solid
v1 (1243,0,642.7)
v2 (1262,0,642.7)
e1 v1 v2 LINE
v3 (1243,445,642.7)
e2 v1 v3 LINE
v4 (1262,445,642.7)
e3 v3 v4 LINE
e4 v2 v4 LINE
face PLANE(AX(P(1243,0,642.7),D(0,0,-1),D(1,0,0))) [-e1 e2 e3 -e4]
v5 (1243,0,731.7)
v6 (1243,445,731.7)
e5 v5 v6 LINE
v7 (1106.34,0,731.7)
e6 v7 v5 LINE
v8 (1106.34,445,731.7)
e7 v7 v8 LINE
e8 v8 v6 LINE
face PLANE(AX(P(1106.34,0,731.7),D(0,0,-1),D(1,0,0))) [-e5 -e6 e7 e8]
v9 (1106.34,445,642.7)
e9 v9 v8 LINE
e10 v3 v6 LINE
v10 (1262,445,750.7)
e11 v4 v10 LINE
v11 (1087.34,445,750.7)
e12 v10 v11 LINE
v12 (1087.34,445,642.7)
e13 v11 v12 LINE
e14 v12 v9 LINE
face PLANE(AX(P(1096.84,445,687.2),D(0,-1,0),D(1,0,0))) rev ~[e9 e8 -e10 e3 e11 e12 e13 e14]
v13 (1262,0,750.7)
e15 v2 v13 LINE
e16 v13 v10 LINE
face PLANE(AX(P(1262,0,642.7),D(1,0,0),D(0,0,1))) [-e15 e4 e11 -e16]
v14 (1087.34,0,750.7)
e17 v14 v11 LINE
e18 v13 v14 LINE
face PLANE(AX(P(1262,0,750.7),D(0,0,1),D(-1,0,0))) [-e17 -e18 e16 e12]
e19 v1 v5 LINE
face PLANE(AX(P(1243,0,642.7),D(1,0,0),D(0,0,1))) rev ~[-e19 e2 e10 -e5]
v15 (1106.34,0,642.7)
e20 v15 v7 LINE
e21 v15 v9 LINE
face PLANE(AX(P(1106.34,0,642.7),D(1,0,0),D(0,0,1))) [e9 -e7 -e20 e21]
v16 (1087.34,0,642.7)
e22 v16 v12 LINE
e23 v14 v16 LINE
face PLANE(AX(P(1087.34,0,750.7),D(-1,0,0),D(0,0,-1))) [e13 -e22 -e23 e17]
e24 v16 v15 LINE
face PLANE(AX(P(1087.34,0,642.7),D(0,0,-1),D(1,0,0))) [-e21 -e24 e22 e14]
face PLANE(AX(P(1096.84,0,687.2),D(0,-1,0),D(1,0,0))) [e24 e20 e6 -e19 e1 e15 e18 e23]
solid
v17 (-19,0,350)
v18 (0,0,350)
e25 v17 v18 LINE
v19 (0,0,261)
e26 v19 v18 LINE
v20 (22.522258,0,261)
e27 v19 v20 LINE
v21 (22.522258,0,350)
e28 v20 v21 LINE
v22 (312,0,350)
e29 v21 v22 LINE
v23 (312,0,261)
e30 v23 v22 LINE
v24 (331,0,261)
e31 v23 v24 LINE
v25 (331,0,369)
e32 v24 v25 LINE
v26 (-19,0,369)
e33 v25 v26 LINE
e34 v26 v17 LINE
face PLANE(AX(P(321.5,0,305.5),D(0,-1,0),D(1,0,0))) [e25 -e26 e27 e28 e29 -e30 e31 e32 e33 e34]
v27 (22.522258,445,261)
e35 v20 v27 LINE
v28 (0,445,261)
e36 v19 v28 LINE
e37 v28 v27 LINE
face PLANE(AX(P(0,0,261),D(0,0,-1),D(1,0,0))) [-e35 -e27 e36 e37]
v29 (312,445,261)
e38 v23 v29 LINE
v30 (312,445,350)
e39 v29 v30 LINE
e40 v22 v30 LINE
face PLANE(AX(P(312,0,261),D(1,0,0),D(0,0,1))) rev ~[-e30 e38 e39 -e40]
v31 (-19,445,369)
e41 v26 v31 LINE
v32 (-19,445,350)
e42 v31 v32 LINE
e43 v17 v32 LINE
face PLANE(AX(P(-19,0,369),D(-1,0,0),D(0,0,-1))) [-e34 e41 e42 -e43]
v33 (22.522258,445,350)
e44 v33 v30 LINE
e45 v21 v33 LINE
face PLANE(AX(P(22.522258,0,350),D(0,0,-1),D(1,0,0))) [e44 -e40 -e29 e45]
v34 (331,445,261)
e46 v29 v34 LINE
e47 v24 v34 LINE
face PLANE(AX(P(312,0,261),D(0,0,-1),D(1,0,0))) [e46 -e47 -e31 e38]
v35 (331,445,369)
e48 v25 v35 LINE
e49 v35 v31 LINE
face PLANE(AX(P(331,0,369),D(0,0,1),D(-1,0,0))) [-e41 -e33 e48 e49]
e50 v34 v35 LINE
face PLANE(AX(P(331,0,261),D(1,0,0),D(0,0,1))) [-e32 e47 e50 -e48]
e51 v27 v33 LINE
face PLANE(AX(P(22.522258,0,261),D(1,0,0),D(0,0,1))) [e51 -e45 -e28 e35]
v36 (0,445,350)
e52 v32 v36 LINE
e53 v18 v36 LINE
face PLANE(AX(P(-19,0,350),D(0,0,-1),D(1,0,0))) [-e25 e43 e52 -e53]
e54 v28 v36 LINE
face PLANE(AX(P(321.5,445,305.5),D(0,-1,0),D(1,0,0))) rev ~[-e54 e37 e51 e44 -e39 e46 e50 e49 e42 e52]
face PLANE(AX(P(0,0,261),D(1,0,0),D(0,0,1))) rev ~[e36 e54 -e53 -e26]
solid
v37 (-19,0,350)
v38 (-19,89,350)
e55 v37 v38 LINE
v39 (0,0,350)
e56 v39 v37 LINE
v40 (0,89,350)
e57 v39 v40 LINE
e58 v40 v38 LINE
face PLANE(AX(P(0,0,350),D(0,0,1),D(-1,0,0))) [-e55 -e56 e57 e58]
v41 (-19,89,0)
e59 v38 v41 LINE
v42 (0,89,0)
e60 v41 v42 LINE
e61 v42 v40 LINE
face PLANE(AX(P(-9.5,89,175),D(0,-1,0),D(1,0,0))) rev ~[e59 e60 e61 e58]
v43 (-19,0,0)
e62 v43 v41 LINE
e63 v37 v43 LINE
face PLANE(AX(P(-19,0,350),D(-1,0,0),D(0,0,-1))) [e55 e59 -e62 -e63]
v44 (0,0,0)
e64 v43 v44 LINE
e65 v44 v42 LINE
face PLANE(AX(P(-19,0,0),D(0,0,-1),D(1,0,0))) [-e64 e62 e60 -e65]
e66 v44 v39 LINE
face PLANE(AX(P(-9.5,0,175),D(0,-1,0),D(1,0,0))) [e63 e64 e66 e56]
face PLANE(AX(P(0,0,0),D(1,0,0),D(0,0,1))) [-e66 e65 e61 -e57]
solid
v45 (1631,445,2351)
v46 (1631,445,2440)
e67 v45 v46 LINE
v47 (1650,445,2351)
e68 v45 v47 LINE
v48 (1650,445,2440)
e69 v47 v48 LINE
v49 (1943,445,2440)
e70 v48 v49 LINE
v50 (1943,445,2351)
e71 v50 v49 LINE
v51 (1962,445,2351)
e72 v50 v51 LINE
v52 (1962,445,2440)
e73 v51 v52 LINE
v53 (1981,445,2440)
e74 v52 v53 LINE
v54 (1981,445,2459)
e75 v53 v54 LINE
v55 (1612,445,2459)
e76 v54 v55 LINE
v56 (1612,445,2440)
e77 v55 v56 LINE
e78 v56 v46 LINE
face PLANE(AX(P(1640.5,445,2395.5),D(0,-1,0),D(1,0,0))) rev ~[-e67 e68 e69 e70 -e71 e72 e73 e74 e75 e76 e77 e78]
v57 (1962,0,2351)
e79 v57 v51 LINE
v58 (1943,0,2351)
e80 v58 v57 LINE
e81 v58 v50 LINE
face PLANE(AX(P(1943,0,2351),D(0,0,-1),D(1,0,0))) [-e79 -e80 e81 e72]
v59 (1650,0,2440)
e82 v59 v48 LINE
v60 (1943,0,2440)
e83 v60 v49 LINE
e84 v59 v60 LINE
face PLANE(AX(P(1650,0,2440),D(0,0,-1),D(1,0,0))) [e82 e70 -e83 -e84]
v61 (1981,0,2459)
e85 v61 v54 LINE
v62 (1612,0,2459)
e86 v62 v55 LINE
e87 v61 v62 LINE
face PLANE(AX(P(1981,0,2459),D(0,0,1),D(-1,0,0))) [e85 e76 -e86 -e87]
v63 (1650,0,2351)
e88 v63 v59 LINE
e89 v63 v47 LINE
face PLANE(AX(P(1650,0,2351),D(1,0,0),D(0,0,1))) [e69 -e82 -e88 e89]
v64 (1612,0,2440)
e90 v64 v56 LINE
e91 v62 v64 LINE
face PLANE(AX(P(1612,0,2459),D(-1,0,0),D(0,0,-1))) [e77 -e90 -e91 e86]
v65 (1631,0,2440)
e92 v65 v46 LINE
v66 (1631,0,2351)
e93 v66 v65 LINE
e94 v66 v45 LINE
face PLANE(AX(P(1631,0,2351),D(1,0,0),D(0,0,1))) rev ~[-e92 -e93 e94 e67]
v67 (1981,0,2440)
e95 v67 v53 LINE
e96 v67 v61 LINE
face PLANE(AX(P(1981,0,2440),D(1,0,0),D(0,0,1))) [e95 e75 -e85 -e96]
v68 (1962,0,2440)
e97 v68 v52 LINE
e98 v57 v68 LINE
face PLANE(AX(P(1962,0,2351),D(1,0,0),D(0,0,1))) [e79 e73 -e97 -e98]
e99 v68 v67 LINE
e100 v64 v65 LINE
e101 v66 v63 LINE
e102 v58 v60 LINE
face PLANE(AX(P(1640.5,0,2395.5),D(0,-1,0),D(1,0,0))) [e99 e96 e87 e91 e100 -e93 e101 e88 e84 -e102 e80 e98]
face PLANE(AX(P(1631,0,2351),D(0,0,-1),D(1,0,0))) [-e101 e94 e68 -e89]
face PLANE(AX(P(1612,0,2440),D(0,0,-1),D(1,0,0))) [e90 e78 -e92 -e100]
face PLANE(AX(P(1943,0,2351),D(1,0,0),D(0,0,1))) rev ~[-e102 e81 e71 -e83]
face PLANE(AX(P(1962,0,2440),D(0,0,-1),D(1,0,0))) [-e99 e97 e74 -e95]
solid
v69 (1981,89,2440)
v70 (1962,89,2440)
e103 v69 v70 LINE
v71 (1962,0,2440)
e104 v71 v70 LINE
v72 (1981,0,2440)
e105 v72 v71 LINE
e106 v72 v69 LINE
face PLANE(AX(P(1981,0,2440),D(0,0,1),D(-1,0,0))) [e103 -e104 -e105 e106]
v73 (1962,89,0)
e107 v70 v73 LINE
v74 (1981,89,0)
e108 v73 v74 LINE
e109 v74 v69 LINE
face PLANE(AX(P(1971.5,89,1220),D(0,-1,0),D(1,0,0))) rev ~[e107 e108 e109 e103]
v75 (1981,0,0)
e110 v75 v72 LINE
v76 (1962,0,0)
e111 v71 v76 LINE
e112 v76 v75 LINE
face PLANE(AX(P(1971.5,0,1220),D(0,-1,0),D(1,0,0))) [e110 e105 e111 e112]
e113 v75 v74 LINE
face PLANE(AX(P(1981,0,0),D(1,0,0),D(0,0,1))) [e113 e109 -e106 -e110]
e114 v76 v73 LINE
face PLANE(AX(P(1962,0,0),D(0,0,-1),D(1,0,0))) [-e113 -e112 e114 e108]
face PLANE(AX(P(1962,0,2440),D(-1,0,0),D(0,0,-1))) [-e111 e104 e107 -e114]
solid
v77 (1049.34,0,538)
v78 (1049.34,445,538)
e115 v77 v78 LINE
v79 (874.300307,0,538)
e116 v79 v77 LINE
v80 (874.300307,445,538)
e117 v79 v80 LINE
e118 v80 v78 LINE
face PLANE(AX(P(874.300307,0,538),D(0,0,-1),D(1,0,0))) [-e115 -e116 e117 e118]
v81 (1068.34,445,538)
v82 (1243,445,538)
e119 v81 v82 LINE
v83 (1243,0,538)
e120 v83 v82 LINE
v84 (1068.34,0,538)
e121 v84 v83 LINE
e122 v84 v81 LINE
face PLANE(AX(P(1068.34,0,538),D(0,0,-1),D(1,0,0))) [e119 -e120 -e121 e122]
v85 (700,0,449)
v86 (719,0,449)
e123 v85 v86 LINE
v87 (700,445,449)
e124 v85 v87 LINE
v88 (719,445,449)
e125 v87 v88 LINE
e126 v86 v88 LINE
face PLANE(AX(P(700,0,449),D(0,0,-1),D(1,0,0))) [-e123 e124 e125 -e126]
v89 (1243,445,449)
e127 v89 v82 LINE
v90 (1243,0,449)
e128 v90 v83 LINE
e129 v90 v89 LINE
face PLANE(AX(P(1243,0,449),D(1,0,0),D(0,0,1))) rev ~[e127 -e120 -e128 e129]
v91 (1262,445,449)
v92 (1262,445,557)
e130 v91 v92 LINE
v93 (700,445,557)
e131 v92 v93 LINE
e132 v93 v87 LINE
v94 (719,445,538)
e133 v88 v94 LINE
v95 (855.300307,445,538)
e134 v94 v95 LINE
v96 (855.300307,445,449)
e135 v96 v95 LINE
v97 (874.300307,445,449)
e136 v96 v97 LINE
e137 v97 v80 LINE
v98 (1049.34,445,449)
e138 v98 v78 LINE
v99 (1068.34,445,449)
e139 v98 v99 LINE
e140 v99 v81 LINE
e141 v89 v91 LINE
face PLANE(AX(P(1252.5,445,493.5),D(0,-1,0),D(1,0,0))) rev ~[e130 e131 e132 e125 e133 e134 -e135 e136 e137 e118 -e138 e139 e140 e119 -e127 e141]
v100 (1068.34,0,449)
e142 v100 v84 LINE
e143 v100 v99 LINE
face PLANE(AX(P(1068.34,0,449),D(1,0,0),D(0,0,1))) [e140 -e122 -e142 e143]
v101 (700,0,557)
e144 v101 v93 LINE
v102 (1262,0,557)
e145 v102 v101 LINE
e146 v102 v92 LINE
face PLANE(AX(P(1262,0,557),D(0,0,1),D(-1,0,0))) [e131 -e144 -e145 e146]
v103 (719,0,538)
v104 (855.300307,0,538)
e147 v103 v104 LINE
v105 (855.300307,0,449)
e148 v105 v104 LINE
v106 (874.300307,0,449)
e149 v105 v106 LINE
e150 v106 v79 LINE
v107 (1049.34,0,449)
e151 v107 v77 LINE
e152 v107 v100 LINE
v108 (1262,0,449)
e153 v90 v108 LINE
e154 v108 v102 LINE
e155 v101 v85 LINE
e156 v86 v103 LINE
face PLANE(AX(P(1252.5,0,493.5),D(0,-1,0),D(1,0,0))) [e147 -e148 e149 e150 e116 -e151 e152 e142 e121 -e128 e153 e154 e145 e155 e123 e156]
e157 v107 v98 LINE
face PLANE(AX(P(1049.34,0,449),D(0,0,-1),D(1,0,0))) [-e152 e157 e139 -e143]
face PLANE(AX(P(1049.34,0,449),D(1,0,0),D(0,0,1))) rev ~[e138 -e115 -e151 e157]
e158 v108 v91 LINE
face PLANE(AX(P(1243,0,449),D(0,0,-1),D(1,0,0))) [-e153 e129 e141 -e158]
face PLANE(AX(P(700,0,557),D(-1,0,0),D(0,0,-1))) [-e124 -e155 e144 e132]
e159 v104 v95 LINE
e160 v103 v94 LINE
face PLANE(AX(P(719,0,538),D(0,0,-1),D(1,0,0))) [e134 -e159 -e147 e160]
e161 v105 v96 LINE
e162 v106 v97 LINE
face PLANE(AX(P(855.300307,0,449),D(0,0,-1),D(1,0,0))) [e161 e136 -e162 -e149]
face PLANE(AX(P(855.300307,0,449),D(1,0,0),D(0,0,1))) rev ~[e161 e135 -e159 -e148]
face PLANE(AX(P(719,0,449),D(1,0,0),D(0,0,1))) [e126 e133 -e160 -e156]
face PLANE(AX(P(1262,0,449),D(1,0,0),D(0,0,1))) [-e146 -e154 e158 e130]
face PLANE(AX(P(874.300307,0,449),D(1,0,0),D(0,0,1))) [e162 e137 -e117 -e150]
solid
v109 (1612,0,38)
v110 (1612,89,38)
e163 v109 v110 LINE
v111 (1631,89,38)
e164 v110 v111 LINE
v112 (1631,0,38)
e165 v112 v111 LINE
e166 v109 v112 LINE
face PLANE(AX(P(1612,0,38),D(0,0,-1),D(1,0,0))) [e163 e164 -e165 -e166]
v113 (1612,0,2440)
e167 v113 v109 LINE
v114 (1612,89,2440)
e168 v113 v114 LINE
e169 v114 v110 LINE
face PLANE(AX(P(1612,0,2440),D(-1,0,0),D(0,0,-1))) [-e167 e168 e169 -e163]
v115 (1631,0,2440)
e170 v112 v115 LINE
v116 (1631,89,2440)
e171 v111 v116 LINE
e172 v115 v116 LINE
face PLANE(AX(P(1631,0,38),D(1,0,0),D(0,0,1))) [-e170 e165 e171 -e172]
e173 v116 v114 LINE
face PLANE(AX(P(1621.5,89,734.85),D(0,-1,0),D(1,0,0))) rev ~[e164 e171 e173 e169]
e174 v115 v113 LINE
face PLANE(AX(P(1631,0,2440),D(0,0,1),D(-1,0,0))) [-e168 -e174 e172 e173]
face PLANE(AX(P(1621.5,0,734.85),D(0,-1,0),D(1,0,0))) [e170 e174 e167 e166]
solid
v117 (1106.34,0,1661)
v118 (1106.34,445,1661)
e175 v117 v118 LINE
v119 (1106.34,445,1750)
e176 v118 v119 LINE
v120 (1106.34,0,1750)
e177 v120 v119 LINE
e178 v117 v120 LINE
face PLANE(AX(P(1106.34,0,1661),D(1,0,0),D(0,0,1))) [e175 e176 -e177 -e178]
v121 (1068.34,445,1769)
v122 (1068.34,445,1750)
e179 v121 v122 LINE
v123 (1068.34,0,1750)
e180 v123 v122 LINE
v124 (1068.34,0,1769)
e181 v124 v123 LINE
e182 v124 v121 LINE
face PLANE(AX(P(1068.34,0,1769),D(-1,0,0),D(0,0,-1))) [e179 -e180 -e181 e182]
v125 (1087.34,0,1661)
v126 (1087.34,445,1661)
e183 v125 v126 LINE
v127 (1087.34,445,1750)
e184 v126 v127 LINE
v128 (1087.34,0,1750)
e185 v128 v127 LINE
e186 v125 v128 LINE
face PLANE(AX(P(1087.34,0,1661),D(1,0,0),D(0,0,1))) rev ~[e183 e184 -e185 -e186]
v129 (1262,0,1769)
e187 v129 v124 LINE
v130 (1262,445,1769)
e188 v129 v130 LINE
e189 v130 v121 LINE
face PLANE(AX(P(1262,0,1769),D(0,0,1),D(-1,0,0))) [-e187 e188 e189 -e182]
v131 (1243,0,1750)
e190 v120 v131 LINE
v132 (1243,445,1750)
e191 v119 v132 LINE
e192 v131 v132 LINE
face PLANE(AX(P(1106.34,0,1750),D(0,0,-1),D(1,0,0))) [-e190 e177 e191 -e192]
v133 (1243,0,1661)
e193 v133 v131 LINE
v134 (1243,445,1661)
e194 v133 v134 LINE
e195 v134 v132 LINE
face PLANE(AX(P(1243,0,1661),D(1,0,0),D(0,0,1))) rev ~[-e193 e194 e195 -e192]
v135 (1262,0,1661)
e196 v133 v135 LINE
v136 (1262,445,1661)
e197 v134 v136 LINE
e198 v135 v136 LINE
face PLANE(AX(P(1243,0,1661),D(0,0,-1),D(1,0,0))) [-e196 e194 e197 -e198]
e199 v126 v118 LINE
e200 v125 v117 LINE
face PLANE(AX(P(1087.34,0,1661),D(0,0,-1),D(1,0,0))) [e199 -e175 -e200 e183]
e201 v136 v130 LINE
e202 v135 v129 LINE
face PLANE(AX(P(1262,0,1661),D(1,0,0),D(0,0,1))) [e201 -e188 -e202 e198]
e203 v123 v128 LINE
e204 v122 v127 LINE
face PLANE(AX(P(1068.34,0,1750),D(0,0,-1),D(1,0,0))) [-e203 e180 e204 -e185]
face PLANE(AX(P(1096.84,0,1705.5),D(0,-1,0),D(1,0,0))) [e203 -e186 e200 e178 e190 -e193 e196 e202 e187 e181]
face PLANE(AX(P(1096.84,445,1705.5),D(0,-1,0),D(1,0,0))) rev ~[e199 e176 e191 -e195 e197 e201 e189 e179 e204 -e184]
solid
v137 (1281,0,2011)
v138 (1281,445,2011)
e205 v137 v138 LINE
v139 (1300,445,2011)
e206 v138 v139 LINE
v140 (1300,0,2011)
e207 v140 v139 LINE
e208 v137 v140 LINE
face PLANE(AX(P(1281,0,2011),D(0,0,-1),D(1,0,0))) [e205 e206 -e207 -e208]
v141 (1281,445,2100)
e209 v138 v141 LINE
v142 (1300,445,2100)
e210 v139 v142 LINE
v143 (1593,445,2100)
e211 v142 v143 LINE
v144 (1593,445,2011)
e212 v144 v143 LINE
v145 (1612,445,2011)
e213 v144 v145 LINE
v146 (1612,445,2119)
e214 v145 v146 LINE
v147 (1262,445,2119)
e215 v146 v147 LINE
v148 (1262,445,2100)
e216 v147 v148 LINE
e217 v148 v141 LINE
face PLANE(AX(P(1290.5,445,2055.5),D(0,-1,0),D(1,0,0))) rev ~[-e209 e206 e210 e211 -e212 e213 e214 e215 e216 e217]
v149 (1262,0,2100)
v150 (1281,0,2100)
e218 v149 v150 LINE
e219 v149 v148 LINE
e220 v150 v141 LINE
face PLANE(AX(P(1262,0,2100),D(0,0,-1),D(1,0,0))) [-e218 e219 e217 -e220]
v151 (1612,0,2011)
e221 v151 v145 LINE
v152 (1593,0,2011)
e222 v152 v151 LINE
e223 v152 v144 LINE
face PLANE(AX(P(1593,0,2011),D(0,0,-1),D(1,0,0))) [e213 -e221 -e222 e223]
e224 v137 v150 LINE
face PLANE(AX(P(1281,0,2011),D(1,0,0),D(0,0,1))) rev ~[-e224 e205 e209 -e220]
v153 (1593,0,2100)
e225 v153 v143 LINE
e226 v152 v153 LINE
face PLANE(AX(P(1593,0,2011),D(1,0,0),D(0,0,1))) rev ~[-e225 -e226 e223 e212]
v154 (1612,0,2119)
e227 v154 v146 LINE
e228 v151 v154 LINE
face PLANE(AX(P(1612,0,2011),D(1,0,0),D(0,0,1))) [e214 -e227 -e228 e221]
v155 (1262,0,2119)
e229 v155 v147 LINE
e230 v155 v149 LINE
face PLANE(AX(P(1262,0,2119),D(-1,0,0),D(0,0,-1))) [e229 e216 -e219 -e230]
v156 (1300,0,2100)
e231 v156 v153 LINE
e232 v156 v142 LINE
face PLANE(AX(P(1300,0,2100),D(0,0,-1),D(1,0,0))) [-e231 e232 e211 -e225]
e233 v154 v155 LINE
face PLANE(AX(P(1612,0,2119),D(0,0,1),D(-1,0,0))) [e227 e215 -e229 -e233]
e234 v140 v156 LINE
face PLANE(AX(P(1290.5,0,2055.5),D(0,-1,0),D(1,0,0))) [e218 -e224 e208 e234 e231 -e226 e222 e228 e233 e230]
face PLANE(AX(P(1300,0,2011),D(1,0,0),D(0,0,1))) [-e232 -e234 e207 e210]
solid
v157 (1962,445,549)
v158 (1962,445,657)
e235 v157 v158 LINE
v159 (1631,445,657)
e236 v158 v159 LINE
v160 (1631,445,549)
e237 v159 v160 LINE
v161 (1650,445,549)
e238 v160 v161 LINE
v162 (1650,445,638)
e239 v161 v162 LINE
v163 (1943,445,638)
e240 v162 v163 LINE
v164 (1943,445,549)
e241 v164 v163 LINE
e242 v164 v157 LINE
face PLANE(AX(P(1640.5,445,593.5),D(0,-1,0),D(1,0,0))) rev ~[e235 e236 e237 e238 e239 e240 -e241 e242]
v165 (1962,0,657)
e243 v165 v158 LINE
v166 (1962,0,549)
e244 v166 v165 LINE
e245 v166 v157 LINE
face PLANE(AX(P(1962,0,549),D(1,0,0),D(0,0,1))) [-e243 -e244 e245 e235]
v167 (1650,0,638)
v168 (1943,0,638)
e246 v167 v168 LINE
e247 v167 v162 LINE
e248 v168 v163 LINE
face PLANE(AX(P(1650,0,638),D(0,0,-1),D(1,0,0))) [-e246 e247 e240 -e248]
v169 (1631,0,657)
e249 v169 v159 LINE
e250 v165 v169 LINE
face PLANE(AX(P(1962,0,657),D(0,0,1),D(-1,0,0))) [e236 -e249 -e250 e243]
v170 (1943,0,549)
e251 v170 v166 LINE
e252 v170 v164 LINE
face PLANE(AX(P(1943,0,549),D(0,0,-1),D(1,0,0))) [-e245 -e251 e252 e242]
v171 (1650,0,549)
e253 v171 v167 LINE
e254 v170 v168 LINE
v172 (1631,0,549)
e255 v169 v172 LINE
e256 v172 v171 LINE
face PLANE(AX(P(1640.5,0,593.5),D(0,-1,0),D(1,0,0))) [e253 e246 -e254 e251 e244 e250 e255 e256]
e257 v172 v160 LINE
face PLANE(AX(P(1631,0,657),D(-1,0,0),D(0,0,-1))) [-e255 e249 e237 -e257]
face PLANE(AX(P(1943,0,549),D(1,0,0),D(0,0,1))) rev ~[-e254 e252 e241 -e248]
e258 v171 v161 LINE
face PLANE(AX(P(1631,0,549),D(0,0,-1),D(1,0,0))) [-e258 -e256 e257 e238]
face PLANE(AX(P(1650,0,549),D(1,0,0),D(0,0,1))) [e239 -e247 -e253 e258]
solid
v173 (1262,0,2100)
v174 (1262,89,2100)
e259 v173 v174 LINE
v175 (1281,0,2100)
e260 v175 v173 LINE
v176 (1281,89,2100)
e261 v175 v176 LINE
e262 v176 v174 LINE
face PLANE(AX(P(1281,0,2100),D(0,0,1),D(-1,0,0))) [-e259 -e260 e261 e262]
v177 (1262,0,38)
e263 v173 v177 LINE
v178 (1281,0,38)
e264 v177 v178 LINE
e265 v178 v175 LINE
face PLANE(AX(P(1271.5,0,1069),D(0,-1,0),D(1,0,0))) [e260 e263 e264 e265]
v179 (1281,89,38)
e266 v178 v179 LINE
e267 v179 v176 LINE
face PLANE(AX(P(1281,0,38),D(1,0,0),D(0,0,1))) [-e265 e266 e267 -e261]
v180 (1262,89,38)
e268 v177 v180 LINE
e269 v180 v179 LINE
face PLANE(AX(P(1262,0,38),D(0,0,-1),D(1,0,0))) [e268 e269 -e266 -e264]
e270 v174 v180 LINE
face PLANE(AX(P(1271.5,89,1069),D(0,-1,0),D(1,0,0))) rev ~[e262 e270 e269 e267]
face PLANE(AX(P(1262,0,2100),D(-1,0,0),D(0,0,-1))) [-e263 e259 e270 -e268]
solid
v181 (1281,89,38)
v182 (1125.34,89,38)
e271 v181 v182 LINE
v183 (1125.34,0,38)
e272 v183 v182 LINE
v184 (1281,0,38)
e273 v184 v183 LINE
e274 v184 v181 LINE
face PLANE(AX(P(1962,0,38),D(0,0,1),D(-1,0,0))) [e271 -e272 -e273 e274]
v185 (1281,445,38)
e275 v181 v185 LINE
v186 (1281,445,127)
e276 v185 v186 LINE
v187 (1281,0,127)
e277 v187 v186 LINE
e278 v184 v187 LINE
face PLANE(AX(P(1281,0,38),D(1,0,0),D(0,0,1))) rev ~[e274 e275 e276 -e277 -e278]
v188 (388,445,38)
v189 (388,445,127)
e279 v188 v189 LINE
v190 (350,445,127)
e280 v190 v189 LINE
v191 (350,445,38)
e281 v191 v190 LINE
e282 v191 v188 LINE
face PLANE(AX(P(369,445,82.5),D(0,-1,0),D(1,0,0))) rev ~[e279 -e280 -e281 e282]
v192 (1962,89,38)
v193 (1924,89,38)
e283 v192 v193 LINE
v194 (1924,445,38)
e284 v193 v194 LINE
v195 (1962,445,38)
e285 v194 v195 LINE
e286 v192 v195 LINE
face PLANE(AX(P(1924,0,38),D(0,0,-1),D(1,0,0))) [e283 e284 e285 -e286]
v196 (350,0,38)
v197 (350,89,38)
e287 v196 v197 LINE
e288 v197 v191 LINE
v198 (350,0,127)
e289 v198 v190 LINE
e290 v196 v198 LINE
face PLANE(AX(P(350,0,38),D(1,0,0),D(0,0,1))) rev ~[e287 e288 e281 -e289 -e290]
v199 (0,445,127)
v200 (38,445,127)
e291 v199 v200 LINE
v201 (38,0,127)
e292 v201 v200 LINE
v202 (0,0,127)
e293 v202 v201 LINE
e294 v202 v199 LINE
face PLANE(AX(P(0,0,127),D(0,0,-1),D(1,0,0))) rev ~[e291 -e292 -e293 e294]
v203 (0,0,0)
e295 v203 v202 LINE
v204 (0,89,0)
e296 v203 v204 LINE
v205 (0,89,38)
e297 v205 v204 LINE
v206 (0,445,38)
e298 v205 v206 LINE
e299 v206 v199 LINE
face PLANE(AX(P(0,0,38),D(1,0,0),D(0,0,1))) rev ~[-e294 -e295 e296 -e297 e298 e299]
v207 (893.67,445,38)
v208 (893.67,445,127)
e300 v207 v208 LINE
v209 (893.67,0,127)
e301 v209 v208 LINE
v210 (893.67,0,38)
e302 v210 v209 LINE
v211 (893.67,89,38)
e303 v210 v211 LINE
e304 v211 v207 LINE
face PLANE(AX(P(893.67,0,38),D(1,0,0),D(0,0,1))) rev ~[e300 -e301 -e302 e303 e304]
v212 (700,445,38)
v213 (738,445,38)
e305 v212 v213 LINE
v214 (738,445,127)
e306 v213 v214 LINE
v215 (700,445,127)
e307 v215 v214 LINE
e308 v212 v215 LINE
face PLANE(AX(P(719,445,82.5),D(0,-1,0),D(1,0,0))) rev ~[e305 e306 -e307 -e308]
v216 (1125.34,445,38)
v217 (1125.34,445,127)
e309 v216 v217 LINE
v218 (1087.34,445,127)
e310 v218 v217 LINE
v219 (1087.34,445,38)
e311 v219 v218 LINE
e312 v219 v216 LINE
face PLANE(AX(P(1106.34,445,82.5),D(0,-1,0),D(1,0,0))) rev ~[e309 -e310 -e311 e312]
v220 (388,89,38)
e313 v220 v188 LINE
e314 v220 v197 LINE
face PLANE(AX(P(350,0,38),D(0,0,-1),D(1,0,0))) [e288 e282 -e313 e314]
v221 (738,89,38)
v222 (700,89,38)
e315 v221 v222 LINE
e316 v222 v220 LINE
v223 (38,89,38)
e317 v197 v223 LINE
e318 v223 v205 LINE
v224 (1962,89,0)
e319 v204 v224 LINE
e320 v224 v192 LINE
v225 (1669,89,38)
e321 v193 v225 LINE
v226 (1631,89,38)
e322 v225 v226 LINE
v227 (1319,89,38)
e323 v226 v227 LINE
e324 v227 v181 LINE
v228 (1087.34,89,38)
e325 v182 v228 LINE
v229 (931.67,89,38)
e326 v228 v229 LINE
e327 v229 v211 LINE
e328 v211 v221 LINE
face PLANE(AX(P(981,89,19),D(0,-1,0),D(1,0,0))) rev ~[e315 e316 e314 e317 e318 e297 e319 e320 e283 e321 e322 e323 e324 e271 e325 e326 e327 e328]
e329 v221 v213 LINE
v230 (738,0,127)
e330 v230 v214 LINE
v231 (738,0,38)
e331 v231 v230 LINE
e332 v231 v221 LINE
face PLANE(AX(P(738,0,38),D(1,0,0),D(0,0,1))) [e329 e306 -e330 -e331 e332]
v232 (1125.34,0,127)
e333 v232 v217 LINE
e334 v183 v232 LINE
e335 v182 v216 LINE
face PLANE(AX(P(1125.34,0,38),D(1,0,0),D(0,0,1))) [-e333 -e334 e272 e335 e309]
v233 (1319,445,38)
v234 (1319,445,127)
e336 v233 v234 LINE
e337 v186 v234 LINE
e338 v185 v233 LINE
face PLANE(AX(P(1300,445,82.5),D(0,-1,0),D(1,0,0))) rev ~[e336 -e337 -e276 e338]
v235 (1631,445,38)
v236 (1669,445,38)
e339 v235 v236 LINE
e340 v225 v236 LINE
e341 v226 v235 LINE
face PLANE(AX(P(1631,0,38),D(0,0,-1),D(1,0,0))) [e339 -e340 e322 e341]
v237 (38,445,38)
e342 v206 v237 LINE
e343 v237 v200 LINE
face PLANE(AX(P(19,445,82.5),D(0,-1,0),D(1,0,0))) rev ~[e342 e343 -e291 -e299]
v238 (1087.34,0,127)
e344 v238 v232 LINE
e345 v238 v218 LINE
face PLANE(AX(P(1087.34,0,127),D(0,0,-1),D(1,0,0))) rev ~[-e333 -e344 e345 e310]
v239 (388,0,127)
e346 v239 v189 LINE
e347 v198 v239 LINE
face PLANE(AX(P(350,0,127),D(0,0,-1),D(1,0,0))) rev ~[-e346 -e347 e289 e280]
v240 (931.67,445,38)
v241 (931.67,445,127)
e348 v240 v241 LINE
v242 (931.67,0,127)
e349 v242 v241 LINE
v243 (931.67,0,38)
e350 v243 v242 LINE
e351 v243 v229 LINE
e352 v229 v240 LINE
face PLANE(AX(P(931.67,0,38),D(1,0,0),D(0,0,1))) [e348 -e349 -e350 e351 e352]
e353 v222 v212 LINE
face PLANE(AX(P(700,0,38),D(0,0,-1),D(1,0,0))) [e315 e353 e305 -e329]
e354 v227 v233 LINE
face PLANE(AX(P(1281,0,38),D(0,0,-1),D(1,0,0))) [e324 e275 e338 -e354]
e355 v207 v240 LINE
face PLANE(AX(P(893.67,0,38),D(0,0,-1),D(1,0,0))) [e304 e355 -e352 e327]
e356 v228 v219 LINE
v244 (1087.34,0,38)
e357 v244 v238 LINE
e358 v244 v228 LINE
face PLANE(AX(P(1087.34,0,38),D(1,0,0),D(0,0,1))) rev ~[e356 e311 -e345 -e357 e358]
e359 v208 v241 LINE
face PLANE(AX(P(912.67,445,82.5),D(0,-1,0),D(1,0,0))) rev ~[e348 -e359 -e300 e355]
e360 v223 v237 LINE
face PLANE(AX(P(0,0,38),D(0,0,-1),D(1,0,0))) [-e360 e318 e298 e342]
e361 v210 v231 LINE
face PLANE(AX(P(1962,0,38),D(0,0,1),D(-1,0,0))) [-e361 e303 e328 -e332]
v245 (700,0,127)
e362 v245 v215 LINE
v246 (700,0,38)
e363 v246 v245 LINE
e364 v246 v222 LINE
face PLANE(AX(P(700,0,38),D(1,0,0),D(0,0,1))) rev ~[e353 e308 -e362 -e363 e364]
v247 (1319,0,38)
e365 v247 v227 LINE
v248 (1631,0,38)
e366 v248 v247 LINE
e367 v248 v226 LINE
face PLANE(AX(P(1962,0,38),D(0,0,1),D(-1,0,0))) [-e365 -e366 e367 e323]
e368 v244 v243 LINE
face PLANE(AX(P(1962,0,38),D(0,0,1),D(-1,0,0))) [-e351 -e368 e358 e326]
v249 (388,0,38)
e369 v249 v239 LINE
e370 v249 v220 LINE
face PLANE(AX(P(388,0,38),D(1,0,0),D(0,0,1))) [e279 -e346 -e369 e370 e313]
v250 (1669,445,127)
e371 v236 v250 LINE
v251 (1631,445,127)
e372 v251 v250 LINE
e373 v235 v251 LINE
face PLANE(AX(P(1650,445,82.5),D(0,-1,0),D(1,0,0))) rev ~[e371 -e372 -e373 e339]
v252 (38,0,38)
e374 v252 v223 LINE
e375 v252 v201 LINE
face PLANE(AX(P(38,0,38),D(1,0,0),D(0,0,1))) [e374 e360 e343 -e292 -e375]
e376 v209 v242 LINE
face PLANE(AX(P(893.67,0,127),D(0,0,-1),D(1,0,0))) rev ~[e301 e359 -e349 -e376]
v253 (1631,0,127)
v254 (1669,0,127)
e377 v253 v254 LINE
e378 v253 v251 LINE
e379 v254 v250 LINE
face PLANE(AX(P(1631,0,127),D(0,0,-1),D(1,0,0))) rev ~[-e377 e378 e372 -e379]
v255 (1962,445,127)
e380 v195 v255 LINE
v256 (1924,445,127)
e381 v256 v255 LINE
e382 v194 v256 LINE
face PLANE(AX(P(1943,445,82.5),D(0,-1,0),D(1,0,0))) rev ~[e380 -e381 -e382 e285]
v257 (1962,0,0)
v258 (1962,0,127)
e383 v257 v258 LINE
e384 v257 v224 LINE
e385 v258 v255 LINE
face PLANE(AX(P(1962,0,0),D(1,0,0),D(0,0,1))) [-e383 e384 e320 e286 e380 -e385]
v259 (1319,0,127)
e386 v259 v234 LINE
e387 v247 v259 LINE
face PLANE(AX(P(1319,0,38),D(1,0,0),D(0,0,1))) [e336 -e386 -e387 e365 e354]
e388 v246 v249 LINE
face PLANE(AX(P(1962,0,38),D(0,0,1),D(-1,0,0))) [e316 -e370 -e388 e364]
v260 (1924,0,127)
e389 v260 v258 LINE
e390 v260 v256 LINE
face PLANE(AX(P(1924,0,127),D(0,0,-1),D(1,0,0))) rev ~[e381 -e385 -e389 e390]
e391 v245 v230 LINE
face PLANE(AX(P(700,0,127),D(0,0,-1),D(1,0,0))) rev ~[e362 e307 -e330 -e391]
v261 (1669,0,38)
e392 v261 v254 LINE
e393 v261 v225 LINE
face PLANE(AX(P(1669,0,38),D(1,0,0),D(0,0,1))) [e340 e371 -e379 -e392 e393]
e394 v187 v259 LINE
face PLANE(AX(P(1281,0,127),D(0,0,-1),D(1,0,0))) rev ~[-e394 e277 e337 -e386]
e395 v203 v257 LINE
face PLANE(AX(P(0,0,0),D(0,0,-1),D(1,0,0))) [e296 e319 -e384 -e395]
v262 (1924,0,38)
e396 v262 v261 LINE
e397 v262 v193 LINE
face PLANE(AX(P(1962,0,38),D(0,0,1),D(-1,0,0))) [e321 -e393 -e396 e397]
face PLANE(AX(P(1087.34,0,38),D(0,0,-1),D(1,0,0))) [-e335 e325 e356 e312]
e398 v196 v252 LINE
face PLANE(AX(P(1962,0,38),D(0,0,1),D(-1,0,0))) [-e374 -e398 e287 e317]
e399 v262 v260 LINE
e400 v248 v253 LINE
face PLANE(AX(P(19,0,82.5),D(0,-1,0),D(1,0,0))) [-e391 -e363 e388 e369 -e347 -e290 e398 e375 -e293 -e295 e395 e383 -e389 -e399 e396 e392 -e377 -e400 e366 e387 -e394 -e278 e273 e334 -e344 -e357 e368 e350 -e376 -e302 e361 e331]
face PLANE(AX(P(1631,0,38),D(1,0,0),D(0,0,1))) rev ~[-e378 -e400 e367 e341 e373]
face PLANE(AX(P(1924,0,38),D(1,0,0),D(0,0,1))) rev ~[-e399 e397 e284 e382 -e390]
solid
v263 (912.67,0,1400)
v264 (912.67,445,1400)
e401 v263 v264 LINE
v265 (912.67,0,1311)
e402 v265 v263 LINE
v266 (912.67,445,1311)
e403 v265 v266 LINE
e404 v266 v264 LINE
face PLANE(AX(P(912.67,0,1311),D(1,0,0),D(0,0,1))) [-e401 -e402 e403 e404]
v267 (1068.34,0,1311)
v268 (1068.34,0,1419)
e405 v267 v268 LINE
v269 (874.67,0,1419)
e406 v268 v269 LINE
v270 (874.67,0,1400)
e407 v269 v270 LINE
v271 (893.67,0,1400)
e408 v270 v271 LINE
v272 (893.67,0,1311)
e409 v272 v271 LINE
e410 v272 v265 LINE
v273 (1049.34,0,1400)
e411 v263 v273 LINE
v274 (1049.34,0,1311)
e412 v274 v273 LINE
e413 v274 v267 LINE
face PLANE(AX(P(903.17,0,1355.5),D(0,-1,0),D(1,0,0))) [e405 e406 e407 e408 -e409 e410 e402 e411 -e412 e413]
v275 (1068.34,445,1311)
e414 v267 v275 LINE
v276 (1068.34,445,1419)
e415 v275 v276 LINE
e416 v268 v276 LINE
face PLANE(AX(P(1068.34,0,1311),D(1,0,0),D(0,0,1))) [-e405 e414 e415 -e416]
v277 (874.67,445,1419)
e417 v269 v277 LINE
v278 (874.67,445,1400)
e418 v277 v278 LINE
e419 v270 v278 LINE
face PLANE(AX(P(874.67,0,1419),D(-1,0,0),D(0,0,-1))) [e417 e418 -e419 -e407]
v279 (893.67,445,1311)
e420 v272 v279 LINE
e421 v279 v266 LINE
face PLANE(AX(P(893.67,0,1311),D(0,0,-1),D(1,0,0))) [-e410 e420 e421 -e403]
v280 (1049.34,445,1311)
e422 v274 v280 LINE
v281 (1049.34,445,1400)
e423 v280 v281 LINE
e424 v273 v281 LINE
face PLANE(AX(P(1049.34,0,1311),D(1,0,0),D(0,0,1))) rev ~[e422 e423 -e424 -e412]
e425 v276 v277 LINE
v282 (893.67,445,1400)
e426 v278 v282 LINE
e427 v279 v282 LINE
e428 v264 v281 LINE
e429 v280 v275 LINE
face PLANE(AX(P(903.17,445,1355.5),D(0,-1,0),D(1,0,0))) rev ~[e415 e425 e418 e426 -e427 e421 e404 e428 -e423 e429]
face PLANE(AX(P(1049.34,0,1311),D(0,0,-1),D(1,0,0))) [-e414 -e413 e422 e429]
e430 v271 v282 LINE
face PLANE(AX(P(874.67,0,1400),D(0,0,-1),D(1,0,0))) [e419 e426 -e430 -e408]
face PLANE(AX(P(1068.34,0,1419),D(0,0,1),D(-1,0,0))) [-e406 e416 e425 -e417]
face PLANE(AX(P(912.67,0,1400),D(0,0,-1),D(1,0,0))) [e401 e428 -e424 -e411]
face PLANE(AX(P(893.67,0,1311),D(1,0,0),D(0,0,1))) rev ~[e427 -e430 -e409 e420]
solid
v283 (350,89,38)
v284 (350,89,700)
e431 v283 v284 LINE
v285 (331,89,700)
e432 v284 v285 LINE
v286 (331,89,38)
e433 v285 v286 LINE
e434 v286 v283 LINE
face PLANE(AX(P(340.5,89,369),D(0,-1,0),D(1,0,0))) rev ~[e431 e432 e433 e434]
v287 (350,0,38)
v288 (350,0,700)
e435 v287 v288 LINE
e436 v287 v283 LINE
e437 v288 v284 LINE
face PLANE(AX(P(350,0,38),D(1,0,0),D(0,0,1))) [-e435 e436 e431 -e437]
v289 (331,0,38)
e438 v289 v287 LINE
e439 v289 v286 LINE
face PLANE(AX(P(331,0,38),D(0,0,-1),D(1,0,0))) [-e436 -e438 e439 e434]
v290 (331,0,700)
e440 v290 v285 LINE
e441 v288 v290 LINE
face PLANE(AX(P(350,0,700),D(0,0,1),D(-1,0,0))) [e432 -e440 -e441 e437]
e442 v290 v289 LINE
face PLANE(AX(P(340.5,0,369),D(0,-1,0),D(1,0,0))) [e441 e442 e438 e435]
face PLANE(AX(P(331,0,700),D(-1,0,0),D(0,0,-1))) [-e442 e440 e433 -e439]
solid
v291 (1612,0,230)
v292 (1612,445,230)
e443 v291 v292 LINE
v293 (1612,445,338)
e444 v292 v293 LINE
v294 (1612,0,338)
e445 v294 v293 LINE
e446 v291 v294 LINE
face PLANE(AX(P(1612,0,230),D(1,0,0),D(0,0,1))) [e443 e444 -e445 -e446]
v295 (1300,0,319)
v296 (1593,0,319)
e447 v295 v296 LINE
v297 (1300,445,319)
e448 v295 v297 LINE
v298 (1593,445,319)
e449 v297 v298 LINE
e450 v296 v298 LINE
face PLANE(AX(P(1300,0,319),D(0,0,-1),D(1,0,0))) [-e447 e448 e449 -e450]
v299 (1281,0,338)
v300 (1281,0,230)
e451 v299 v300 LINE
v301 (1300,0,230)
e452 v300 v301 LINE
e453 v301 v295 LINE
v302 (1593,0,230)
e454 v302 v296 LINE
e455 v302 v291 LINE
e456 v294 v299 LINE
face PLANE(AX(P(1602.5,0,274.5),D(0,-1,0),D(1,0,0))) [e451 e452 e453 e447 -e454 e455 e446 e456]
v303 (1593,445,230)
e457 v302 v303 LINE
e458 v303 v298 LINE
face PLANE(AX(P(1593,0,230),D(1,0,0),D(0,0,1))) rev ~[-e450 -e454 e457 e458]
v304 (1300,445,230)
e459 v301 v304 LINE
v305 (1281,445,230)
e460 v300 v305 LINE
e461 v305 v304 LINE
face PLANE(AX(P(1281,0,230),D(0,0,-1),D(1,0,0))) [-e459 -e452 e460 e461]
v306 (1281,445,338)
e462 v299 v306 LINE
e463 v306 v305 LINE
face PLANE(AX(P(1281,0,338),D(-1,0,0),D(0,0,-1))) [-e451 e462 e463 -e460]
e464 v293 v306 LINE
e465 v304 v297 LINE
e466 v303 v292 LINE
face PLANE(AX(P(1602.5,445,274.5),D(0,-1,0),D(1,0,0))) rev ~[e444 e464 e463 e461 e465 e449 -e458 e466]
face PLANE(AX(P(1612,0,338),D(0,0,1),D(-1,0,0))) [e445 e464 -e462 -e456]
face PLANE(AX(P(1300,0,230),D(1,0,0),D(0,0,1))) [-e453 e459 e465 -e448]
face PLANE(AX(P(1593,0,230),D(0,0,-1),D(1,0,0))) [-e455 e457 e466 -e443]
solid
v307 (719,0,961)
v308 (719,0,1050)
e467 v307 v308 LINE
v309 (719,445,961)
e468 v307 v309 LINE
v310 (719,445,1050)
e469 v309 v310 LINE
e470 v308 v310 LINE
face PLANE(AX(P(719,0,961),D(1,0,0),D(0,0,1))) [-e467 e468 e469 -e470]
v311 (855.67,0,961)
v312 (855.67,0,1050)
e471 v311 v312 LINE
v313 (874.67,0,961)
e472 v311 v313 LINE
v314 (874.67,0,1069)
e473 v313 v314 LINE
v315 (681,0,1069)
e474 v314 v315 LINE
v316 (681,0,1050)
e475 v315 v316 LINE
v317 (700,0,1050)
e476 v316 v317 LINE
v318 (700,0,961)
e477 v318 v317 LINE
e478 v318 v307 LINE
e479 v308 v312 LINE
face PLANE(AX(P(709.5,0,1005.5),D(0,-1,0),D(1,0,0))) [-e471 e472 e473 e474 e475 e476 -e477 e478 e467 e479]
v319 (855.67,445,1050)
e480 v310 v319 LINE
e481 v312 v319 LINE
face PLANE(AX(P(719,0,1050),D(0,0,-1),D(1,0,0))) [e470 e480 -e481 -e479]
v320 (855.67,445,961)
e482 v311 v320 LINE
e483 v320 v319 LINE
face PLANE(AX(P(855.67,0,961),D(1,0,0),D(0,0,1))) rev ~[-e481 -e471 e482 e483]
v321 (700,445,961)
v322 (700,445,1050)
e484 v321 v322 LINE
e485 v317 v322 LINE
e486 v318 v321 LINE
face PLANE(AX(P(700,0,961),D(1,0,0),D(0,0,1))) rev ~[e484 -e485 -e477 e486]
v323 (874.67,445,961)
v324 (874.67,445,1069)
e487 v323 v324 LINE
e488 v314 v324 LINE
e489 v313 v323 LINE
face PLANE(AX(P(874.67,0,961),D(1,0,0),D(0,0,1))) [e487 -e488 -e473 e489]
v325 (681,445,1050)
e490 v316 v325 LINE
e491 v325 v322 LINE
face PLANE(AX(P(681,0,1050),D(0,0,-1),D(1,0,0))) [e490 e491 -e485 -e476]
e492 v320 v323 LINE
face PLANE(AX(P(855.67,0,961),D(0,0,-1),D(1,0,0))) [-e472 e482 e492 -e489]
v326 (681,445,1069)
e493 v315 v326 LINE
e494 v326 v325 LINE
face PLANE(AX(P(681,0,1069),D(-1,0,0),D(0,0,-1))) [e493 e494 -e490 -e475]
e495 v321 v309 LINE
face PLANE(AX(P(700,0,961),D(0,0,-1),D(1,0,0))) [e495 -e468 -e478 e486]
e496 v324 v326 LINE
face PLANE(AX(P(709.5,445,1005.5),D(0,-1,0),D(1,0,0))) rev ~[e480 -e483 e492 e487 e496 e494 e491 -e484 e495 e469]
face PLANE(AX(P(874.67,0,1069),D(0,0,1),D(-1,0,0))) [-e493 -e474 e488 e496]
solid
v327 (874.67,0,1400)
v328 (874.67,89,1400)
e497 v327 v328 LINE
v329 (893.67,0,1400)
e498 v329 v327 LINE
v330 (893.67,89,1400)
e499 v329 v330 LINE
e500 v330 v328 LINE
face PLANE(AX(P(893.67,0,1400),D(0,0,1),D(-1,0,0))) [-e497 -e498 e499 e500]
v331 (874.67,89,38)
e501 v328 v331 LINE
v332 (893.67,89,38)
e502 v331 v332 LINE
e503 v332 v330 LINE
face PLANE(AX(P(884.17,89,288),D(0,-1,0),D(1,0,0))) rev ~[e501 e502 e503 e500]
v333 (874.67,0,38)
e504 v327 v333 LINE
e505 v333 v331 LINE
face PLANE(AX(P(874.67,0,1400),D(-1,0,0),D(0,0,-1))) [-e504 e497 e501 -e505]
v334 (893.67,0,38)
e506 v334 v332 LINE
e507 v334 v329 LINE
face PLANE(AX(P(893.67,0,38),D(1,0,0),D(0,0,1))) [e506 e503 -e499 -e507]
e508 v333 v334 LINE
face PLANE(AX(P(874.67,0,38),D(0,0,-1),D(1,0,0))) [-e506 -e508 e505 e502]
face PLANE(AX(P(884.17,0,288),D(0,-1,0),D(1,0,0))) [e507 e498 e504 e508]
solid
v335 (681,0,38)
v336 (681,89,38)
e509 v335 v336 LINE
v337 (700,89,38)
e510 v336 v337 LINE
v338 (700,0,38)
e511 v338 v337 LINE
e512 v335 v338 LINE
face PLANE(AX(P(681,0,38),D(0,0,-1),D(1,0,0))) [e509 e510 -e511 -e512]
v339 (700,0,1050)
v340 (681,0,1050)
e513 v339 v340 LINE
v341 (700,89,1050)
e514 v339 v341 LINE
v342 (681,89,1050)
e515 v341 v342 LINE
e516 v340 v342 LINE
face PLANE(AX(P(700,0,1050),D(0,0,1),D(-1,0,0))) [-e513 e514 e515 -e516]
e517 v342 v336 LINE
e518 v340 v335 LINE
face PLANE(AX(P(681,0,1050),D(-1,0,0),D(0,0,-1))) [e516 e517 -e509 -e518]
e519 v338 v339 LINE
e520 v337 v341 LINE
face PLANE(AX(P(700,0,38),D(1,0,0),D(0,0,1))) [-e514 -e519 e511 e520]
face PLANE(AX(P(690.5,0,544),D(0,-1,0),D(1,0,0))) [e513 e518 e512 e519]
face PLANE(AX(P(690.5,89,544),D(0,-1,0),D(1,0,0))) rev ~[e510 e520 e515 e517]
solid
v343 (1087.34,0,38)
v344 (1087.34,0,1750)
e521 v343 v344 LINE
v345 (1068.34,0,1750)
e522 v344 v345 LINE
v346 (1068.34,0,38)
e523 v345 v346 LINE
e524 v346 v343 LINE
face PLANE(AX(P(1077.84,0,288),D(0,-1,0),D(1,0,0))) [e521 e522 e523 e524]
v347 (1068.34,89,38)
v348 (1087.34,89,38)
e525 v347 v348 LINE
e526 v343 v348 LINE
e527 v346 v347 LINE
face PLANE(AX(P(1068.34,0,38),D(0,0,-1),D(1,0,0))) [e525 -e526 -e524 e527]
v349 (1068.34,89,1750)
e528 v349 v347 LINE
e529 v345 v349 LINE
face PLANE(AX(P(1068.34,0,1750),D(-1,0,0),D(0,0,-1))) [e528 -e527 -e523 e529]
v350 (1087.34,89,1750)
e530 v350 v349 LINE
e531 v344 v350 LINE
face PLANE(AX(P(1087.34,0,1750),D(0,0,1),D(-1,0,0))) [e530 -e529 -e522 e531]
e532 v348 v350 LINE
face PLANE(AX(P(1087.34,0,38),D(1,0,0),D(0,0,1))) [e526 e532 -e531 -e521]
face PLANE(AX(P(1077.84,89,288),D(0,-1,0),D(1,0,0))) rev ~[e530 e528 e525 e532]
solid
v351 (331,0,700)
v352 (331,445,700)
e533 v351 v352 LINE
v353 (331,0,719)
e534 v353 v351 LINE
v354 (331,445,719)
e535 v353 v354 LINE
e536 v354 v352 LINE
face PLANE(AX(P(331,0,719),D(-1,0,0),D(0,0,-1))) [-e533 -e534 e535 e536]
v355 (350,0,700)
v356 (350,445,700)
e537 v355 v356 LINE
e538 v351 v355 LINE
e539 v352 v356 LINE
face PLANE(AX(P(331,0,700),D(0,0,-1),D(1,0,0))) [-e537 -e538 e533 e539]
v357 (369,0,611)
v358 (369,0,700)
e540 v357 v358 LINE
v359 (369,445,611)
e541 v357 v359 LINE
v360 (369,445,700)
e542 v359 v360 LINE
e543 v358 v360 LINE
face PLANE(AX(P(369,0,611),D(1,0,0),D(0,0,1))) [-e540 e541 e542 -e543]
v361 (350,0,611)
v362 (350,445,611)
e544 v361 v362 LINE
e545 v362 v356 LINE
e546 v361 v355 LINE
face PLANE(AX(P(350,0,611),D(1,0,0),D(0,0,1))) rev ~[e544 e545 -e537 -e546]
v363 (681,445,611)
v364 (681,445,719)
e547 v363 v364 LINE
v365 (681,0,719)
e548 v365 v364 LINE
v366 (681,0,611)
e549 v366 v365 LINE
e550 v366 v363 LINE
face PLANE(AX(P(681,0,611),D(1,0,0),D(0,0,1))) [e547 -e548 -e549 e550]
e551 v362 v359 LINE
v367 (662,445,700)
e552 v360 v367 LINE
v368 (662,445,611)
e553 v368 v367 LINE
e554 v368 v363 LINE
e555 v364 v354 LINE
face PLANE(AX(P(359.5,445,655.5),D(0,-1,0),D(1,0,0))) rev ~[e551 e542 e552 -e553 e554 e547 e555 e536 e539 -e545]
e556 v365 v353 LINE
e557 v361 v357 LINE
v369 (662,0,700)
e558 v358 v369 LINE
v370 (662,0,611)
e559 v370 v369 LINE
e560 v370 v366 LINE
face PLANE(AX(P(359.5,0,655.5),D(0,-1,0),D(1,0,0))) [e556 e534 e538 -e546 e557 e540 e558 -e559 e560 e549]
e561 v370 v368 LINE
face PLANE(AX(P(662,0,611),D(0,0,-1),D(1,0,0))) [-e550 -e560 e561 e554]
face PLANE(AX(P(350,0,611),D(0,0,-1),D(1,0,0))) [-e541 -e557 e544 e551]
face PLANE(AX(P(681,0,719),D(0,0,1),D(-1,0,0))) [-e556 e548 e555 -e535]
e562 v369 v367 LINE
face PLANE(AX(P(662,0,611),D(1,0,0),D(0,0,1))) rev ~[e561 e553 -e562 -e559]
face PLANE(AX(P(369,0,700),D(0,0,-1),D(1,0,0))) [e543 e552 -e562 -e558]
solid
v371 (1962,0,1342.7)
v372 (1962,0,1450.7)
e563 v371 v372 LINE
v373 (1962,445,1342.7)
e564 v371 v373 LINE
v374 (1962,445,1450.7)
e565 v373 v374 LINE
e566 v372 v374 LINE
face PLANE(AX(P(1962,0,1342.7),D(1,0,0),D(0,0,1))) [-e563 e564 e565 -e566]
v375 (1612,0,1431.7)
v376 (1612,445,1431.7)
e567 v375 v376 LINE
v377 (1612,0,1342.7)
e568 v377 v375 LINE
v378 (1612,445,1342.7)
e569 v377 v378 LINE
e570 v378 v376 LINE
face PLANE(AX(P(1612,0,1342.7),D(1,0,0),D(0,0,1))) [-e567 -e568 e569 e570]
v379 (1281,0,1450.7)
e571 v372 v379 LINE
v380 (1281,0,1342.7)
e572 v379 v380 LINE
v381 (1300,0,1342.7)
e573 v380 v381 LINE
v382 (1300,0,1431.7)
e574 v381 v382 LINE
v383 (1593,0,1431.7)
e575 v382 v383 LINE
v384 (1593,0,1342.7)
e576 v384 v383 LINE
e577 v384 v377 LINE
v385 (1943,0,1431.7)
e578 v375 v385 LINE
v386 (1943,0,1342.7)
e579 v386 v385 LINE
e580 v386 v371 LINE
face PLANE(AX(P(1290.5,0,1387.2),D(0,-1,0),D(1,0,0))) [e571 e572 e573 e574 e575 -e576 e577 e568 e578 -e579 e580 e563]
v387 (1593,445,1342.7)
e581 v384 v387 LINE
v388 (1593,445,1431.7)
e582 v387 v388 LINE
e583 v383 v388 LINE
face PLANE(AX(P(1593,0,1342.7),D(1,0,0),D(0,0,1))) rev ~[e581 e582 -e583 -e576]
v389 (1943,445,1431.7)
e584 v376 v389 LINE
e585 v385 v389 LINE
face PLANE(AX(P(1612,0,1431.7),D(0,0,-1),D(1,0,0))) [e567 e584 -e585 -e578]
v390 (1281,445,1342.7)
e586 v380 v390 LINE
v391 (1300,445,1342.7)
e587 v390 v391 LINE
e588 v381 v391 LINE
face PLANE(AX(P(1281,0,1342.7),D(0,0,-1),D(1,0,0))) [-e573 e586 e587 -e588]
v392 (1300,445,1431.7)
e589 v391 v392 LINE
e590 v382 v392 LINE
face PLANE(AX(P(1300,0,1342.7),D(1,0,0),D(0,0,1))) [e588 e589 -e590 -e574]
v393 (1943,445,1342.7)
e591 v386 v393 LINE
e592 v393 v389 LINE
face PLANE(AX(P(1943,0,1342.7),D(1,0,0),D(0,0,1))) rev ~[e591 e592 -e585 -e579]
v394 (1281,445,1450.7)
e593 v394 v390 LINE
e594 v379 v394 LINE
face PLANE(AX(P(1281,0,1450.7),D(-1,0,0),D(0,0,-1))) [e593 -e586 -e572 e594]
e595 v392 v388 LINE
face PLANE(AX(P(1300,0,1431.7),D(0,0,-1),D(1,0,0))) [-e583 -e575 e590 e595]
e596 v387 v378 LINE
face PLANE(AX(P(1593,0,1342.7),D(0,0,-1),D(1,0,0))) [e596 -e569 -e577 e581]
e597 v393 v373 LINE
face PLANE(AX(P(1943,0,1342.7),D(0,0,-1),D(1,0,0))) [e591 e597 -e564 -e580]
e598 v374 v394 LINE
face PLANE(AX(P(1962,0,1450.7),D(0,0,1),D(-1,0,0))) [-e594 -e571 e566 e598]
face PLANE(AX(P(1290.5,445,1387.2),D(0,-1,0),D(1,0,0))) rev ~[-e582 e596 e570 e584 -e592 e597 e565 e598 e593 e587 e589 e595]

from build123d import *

# Parameters (mm, degrees)
F1_DEPTH = 89
F0_W     = 38
F0_H     = 89
F2_DEPTH = 445
F0_W_2   = 19
F0_H_2   = 19
F0_W_3   = 22.522257641
F3_DEPTH = 89


with BuildPart() as f1:
    # F0 (on Front) → F1 (new body)
    with BuildSketch(Plane.XZ):
        Polygon((0, 38), (0, 0), (1962, 0), (1962, 38), (1924, 38), (1669, 38), (1631, 38), (1612, 38), (1319, 38), (1281, 38), (1262, 38), (1125.34, 38), (1087.34, 38), (1068.34, 38), (931.67, 38), (893.67, 38), (874.67, 38), (738, 38), (700, 38), (681, 38), (388, 38), (350, 38), (331, 38), (38, 38), align=None)
    extrude(amount=-F1_DEPTH)

    # F0 (on Front) → F2 (join)
    with BuildSketch(Plane.XZ):
        with Locations((19, 82.5)):
            Rectangle(F0_W, F0_H)
        with Locations((369, 82.5)):
            Rectangle(F0_W, F0_H)
        with Locations((719, 82.5)):
            Rectangle(F0_W, F0_H)
        with Locations((912.67, 82.5)):
            Rectangle(F0_W, F0_H)
        with Locations((1106.34, 82.5)):
            Rectangle(F0_W, F0_H)
        with Locations((1300, 82.5)):
            Rectangle(F0_W, F0_H)
        with Locations((1650, 82.5)):
            Rectangle(F0_W, F0_H)
        with Locations((1943, 82.5)):
            Rectangle(F0_W, F0_H)
    extrude(amount=-F2_DEPTH)


with BuildPart() as f2:
    # F0 (on Front) → F2, piece 2 (new body)
    with BuildSketch(Plane.XZ):
        with Locations((1602.5, 274.5)):
            Rectangle(F0_W_2, F0_H)
        with Locations((1290.5, 274.5)):
            Rectangle(F0_W_2, F0_H)
        Polygon((1593, 319), (1612, 319), (1612, 338), (1281, 338), (1281, 319), (1300, 319), align=None)
    extrude(amount=-F2_DEPTH)


with BuildPart() as f2b:
    # F0 (on Front) → F2, piece 3 (new body)
    with BuildSketch(Plane.XZ):
        with Locations((1252.5, 493.5)):
            Rectangle(F0_W_2, F0_H)
        with Locations((1058.84, 493.5)):
            Rectangle(F0_W_2, F0_H)
        with Locations((864.8003072739, 493.5)):
            Rectangle(F0_W_2, F0_H)
        with Locations((709.5, 493.5)):
            Rectangle(F0_W_2, F0_H)
        Polygon((1243, 538), (1262, 538), (1262, 557), (1087.34, 557), (1087.34, 538), align=None)
        with Locations((1077.84, 547.5)):
            Rectangle(F0_W_2, F0_H_2)
        Polygon((893.67, 557), (893.67, 538), (1049.34, 538), (1068.34, 538), (1068.34, 557), align=None)
        with Locations((884.17, 547.5)):
            Rectangle(F0_W_2, F0_H_2)
        Polygon((874.3003072739, 538), (874.67, 538), (874.67, 557), (700, 557), (700, 538), (719, 538), (855.3003072739, 538), align=None)
    extrude(amount=-F2_DEPTH)


with BuildPart() as f2c:
    # F0 (on Front) → F2, piece 4 (new body)
    with BuildSketch(Plane.XZ):
        with Locations((321.5, 305.5)):
            Rectangle(F0_W_2, F0_H)
        with Locations((11.2611288205, 305.5)):
            Rectangle(F0_W_3, F0_H)
        Polygon((-19, 369), (-19, 350), (0, 350), (22.522257641, 350), (312, 350), (331, 350), (331, 369), align=None)
    extrude(amount=-F2_DEPTH)


with BuildPart() as f2d:
    # F0 (on Front) → F2, piece 5 (new body)
    with BuildSketch(Plane.XZ):
        with Locations((359.5, 655.5)):
            Rectangle(F0_W_2, F0_H)
        with Locations((671.5, 655.5)):
            Rectangle(F0_W_2, F0_H)
        Polygon((331, 719), (331, 700), (350, 700), (369, 700), (662, 700), (681, 700), (681, 719), align=None)
    extrude(amount=-F2_DEPTH)


with BuildPart() as f2e:
    # F0 (on Front) → F2, piece 6 (new body)
    with BuildSketch(Plane.XZ):
        with Locations((1096.84, 687.2)):
            Rectangle(F0_W_2, F0_H)
        with Locations((1252.5, 687.2)):
            Rectangle(F0_W_2, F0_H)
        Polygon((1262, 731.7), (1262, 750.7), (1087.34, 750.7), (1087.34, 731.7), (1106.34, 731.7), (1243, 731.7), align=None)
    extrude(amount=-F2_DEPTH)


with BuildPart() as f2f:
    # F0 (on Front) → F2, piece 7 (new body)
    with BuildSketch(Plane.XZ):
        with Locations((1640.5, 593.5)):
            Rectangle(F0_W_2, F0_H)
        with Locations((1952.5, 593.5)):
            Rectangle(F0_W_2, F0_H)
        Polygon((1943, 638), (1962, 638), (1962, 657), (1631, 657), (1631, 638), (1650, 638), align=None)
    extrude(amount=-F2_DEPTH)


with BuildPart() as f2g:
    # F0 (on Front) → F2, piece 8 (new body)
    with BuildSketch(Plane.XZ):
        with Locations((709.5, 1005.5)):
            Rectangle(F0_W_2, F0_H)
        with Locations((865.17, 1005.5)):
            Rectangle(F0_W_2, F0_H)
        Polygon((681, 1069), (681, 1050), (700, 1050), (719, 1050), (855.67, 1050), (874.67, 1050), (874.67, 1069), align=None)
    extrude(amount=-F2_DEPTH)


with BuildPart() as f2h:
    # F0 (on Front) → F2, piece 9 (new body)
    with BuildSketch(Plane.XZ):
        with Locations((903.17, 1355.5)):
            Rectangle(F0_W_2, F0_H)
        with Locations((1058.84, 1355.5)):
            Rectangle(F0_W_2, F0_H)
        Polygon((874.67, 1419), (874.67, 1400), (893.67, 1400), (912.67, 1400), (1049.34, 1400), (1068.34, 1400), (1068.34, 1419), align=None)
    extrude(amount=-F2_DEPTH)


with BuildPart() as f2i:
    # F0 (on Front) → F2, piece 10 (new body)
    with BuildSketch(Plane.XZ):
        with Locations((1290.5, 1387.2)):
            Rectangle(F0_W_2, F0_H)
        with Locations((1602.5, 1387.2)):
            Rectangle(F0_W_2, F0_H)
        with Locations((1952.5, 1387.2)):
            Rectangle(F0_W_2, F0_H)
        Polygon((1612, 1431.7), (1612, 1450.7), (1281, 1450.7), (1281, 1431.7), (1300, 1431.7), (1593, 1431.7), align=None)
        with Locations((1621.5, 1441.2)):
            Rectangle(F0_W_2, F0_H_2)
        Polygon((1962, 1431.7), (1962, 1450.7), (1631, 1450.7), (1631, 1431.7), (1943, 1431.7), align=None)
    extrude(amount=-F2_DEPTH)


with BuildPart() as f2j:
    # F0 (on Front) → F2, piece 11 (new body)
    with BuildSketch(Plane.XZ):
        with Locations((1096.84, 1705.5)):
            Rectangle(F0_W_2, F0_H)
        with Locations((1252.5, 1705.5)):
            Rectangle(F0_W_2, F0_H)
        Polygon((1262, 1750), (1262, 1769), (1068.34, 1769), (1068.34, 1750), (1087.34, 1750), (1106.34, 1750), (1243, 1750), align=None)
    extrude(amount=-F2_DEPTH)


with BuildPart() as f2k:
    # F0 (on Front) → F2, piece 12 (new body)
    with BuildSketch(Plane.XZ):
        with Locations((1290.5, 2055.5)):
            Rectangle(F0_W_2, F0_H)
        with Locations((1602.5, 2055.5)):
            Rectangle(F0_W_2, F0_H)
        Polygon((1612, 2100), (1612, 2119), (1262, 2119), (1262, 2100), (1281, 2100), (1300, 2100), (1593, 2100), align=None)
    extrude(amount=-F2_DEPTH)


with BuildPart() as f2l:
    # F0 (on Front) → F2, piece 13 (new body)
    with BuildSketch(Plane.XZ):
        with Locations((1640.5, 2395.5)):
            Rectangle(F0_W_2, F0_H)
        with Locations((1952.5, 2395.5)):
            Rectangle(F0_W_2, F0_H)
        Polygon((1962, 2440), (1981, 2440), (1981, 2459), (1612, 2459), (1612, 2440), (1631, 2440), (1650, 2440), (1943, 2440), align=None)
    extrude(amount=-F2_DEPTH)


with BuildPart() as f3:
    # F0 (on Front) → F3 (new body)
    with BuildSketch(Plane.XZ):
        Polygon((1962, 38), (1962, 0), (1981, 0), (1981, 2440), (1962, 2440), (1962, 2351), (1962, 1450.7), (1962, 1431.7), (1962, 1342.7), (1962, 657), (1962, 638), (1962, 549), (1962, 127), align=None)
    extrude(amount=-F3_DEPTH)


with BuildPart() as f3b:
    # F0 (on Front) → F3, piece 2 (new body)
    with BuildSketch(Plane.XZ):
        Polygon((-19, 0), (0, 0), (0, 38), (0, 127), (0, 261), (0, 350), (-19, 350), align=None)
    extrude(amount=-F3_DEPTH)


with BuildPart() as f3c:
    # F0 (on Front) → F3, piece 3 (new body)
    with BuildSketch(Plane.XZ):
        Polygon((331, 261), (331, 38), (350, 38), (350, 127), (350, 611), (350, 700), (331, 700), (331, 369), (331, 350), align=None)
    extrude(amount=-F3_DEPTH)


with BuildPart() as f3d:
    # F0 (on Front) → F3, piece 4 (new body)
    with BuildSketch(Plane.XZ):
        Polygon((681, 611), (681, 38), (700, 38), (700, 127), (700, 449), (700, 538), (700, 557), (700, 961), (700, 1050), (681, 1050), (681, 719), (681, 700), align=None)
    extrude(amount=-F3_DEPTH)


with BuildPart() as f3e:
    # F0 (on Front) → F3, piece 5 (new body)
    with BuildSketch(Plane.XZ):
        Polygon((874.67, 538), (874.67, 38), (893.67, 38), (893.67, 127), (893.67, 538), align=None)
        Polygon((874.67, 1400), (874.67, 1069), (874.67, 1050), (874.67, 961), (874.67, 557), (893.67, 557), (893.67, 1311), (893.67, 1400), align=None)
        with Locations((884.17, 547.5)):
            Rectangle(F0_W_2, F0_H_2)
    extrude(amount=-F3_DEPTH)


with BuildPart() as f3f:
    # F0 (on Front) → F3, piece 6 (new body)
    with BuildSketch(Plane.XZ):
        Polygon((1068.34, 38), (1087.34, 38), (1087.34, 127), (1087.34, 538), (1068.34, 538), (1068.34, 449), align=None)
        with Locations((1077.84, 547.5)):
            Rectangle(F0_W_2, F0_H_2)
        Polygon((1087.34, 1750), (1068.34, 1750), (1068.34, 1419), (1068.34, 1400), (1068.34, 1311), (1068.34, 557), (1087.34, 557), (1087.34, 642.7), (1087.34, 731.7), (1087.34, 750.7), (1087.34, 1661), align=None)
    extrude(amount=-F3_DEPTH)


with BuildPart() as f3g:
    # F0 (on Front) → F3, piece 7 (new body)
    with BuildSketch(Plane.XZ):
        Polygon((1262, 38), (1281, 38), (1281, 127), (1281, 230), (1281, 319), (1281, 338), (1281, 1342.7), (1281, 1431.7), (1281, 1450.7), (1281, 2011), (1281, 2100), (1262, 2100), (1262, 1769), (1262, 1750), (1262, 1661), (1262, 750.7), (1262, 731.7), (1262, 642.7), (1262, 557), (1262, 538), (1262, 449), align=None)
    extrude(amount=-F3_DEPTH)


with BuildPart() as f3h:
    # F0 (on Front) → F3, piece 8 (new body)
    with BuildSketch(Plane.XZ):
        Polygon((1612, 38), (1631, 38), (1631, 127), (1631, 549), (1631, 638), (1631, 657), (1631, 1431.7), (1612, 1431.7), (1612, 1342.7), (1612, 338), (1612, 319), (1612, 230), align=None)
        with Locations((1621.5, 1441.2)):
            Rectangle(F0_W_2, F0_H_2)
        Polygon((1631, 2440), (1612, 2440), (1612, 2119), (1612, 2100), (1612, 2011), (1612, 1450.7), (1631, 1450.7), (1631, 2351), align=None)
    extrude(amount=-F3_DEPTH)


solid = Compound([f1.part, f2.part, f2b.part, f2c.part, f2d.part, f2e.part, f2f.part, f2g.part, f2h.part, f2i.part, f2j.part, f2k.part, f2l.part, f3.part, f3b.part, f3c.part, f3d.part, f3e.part, f3f.part, f3g.part, f3h.part])
